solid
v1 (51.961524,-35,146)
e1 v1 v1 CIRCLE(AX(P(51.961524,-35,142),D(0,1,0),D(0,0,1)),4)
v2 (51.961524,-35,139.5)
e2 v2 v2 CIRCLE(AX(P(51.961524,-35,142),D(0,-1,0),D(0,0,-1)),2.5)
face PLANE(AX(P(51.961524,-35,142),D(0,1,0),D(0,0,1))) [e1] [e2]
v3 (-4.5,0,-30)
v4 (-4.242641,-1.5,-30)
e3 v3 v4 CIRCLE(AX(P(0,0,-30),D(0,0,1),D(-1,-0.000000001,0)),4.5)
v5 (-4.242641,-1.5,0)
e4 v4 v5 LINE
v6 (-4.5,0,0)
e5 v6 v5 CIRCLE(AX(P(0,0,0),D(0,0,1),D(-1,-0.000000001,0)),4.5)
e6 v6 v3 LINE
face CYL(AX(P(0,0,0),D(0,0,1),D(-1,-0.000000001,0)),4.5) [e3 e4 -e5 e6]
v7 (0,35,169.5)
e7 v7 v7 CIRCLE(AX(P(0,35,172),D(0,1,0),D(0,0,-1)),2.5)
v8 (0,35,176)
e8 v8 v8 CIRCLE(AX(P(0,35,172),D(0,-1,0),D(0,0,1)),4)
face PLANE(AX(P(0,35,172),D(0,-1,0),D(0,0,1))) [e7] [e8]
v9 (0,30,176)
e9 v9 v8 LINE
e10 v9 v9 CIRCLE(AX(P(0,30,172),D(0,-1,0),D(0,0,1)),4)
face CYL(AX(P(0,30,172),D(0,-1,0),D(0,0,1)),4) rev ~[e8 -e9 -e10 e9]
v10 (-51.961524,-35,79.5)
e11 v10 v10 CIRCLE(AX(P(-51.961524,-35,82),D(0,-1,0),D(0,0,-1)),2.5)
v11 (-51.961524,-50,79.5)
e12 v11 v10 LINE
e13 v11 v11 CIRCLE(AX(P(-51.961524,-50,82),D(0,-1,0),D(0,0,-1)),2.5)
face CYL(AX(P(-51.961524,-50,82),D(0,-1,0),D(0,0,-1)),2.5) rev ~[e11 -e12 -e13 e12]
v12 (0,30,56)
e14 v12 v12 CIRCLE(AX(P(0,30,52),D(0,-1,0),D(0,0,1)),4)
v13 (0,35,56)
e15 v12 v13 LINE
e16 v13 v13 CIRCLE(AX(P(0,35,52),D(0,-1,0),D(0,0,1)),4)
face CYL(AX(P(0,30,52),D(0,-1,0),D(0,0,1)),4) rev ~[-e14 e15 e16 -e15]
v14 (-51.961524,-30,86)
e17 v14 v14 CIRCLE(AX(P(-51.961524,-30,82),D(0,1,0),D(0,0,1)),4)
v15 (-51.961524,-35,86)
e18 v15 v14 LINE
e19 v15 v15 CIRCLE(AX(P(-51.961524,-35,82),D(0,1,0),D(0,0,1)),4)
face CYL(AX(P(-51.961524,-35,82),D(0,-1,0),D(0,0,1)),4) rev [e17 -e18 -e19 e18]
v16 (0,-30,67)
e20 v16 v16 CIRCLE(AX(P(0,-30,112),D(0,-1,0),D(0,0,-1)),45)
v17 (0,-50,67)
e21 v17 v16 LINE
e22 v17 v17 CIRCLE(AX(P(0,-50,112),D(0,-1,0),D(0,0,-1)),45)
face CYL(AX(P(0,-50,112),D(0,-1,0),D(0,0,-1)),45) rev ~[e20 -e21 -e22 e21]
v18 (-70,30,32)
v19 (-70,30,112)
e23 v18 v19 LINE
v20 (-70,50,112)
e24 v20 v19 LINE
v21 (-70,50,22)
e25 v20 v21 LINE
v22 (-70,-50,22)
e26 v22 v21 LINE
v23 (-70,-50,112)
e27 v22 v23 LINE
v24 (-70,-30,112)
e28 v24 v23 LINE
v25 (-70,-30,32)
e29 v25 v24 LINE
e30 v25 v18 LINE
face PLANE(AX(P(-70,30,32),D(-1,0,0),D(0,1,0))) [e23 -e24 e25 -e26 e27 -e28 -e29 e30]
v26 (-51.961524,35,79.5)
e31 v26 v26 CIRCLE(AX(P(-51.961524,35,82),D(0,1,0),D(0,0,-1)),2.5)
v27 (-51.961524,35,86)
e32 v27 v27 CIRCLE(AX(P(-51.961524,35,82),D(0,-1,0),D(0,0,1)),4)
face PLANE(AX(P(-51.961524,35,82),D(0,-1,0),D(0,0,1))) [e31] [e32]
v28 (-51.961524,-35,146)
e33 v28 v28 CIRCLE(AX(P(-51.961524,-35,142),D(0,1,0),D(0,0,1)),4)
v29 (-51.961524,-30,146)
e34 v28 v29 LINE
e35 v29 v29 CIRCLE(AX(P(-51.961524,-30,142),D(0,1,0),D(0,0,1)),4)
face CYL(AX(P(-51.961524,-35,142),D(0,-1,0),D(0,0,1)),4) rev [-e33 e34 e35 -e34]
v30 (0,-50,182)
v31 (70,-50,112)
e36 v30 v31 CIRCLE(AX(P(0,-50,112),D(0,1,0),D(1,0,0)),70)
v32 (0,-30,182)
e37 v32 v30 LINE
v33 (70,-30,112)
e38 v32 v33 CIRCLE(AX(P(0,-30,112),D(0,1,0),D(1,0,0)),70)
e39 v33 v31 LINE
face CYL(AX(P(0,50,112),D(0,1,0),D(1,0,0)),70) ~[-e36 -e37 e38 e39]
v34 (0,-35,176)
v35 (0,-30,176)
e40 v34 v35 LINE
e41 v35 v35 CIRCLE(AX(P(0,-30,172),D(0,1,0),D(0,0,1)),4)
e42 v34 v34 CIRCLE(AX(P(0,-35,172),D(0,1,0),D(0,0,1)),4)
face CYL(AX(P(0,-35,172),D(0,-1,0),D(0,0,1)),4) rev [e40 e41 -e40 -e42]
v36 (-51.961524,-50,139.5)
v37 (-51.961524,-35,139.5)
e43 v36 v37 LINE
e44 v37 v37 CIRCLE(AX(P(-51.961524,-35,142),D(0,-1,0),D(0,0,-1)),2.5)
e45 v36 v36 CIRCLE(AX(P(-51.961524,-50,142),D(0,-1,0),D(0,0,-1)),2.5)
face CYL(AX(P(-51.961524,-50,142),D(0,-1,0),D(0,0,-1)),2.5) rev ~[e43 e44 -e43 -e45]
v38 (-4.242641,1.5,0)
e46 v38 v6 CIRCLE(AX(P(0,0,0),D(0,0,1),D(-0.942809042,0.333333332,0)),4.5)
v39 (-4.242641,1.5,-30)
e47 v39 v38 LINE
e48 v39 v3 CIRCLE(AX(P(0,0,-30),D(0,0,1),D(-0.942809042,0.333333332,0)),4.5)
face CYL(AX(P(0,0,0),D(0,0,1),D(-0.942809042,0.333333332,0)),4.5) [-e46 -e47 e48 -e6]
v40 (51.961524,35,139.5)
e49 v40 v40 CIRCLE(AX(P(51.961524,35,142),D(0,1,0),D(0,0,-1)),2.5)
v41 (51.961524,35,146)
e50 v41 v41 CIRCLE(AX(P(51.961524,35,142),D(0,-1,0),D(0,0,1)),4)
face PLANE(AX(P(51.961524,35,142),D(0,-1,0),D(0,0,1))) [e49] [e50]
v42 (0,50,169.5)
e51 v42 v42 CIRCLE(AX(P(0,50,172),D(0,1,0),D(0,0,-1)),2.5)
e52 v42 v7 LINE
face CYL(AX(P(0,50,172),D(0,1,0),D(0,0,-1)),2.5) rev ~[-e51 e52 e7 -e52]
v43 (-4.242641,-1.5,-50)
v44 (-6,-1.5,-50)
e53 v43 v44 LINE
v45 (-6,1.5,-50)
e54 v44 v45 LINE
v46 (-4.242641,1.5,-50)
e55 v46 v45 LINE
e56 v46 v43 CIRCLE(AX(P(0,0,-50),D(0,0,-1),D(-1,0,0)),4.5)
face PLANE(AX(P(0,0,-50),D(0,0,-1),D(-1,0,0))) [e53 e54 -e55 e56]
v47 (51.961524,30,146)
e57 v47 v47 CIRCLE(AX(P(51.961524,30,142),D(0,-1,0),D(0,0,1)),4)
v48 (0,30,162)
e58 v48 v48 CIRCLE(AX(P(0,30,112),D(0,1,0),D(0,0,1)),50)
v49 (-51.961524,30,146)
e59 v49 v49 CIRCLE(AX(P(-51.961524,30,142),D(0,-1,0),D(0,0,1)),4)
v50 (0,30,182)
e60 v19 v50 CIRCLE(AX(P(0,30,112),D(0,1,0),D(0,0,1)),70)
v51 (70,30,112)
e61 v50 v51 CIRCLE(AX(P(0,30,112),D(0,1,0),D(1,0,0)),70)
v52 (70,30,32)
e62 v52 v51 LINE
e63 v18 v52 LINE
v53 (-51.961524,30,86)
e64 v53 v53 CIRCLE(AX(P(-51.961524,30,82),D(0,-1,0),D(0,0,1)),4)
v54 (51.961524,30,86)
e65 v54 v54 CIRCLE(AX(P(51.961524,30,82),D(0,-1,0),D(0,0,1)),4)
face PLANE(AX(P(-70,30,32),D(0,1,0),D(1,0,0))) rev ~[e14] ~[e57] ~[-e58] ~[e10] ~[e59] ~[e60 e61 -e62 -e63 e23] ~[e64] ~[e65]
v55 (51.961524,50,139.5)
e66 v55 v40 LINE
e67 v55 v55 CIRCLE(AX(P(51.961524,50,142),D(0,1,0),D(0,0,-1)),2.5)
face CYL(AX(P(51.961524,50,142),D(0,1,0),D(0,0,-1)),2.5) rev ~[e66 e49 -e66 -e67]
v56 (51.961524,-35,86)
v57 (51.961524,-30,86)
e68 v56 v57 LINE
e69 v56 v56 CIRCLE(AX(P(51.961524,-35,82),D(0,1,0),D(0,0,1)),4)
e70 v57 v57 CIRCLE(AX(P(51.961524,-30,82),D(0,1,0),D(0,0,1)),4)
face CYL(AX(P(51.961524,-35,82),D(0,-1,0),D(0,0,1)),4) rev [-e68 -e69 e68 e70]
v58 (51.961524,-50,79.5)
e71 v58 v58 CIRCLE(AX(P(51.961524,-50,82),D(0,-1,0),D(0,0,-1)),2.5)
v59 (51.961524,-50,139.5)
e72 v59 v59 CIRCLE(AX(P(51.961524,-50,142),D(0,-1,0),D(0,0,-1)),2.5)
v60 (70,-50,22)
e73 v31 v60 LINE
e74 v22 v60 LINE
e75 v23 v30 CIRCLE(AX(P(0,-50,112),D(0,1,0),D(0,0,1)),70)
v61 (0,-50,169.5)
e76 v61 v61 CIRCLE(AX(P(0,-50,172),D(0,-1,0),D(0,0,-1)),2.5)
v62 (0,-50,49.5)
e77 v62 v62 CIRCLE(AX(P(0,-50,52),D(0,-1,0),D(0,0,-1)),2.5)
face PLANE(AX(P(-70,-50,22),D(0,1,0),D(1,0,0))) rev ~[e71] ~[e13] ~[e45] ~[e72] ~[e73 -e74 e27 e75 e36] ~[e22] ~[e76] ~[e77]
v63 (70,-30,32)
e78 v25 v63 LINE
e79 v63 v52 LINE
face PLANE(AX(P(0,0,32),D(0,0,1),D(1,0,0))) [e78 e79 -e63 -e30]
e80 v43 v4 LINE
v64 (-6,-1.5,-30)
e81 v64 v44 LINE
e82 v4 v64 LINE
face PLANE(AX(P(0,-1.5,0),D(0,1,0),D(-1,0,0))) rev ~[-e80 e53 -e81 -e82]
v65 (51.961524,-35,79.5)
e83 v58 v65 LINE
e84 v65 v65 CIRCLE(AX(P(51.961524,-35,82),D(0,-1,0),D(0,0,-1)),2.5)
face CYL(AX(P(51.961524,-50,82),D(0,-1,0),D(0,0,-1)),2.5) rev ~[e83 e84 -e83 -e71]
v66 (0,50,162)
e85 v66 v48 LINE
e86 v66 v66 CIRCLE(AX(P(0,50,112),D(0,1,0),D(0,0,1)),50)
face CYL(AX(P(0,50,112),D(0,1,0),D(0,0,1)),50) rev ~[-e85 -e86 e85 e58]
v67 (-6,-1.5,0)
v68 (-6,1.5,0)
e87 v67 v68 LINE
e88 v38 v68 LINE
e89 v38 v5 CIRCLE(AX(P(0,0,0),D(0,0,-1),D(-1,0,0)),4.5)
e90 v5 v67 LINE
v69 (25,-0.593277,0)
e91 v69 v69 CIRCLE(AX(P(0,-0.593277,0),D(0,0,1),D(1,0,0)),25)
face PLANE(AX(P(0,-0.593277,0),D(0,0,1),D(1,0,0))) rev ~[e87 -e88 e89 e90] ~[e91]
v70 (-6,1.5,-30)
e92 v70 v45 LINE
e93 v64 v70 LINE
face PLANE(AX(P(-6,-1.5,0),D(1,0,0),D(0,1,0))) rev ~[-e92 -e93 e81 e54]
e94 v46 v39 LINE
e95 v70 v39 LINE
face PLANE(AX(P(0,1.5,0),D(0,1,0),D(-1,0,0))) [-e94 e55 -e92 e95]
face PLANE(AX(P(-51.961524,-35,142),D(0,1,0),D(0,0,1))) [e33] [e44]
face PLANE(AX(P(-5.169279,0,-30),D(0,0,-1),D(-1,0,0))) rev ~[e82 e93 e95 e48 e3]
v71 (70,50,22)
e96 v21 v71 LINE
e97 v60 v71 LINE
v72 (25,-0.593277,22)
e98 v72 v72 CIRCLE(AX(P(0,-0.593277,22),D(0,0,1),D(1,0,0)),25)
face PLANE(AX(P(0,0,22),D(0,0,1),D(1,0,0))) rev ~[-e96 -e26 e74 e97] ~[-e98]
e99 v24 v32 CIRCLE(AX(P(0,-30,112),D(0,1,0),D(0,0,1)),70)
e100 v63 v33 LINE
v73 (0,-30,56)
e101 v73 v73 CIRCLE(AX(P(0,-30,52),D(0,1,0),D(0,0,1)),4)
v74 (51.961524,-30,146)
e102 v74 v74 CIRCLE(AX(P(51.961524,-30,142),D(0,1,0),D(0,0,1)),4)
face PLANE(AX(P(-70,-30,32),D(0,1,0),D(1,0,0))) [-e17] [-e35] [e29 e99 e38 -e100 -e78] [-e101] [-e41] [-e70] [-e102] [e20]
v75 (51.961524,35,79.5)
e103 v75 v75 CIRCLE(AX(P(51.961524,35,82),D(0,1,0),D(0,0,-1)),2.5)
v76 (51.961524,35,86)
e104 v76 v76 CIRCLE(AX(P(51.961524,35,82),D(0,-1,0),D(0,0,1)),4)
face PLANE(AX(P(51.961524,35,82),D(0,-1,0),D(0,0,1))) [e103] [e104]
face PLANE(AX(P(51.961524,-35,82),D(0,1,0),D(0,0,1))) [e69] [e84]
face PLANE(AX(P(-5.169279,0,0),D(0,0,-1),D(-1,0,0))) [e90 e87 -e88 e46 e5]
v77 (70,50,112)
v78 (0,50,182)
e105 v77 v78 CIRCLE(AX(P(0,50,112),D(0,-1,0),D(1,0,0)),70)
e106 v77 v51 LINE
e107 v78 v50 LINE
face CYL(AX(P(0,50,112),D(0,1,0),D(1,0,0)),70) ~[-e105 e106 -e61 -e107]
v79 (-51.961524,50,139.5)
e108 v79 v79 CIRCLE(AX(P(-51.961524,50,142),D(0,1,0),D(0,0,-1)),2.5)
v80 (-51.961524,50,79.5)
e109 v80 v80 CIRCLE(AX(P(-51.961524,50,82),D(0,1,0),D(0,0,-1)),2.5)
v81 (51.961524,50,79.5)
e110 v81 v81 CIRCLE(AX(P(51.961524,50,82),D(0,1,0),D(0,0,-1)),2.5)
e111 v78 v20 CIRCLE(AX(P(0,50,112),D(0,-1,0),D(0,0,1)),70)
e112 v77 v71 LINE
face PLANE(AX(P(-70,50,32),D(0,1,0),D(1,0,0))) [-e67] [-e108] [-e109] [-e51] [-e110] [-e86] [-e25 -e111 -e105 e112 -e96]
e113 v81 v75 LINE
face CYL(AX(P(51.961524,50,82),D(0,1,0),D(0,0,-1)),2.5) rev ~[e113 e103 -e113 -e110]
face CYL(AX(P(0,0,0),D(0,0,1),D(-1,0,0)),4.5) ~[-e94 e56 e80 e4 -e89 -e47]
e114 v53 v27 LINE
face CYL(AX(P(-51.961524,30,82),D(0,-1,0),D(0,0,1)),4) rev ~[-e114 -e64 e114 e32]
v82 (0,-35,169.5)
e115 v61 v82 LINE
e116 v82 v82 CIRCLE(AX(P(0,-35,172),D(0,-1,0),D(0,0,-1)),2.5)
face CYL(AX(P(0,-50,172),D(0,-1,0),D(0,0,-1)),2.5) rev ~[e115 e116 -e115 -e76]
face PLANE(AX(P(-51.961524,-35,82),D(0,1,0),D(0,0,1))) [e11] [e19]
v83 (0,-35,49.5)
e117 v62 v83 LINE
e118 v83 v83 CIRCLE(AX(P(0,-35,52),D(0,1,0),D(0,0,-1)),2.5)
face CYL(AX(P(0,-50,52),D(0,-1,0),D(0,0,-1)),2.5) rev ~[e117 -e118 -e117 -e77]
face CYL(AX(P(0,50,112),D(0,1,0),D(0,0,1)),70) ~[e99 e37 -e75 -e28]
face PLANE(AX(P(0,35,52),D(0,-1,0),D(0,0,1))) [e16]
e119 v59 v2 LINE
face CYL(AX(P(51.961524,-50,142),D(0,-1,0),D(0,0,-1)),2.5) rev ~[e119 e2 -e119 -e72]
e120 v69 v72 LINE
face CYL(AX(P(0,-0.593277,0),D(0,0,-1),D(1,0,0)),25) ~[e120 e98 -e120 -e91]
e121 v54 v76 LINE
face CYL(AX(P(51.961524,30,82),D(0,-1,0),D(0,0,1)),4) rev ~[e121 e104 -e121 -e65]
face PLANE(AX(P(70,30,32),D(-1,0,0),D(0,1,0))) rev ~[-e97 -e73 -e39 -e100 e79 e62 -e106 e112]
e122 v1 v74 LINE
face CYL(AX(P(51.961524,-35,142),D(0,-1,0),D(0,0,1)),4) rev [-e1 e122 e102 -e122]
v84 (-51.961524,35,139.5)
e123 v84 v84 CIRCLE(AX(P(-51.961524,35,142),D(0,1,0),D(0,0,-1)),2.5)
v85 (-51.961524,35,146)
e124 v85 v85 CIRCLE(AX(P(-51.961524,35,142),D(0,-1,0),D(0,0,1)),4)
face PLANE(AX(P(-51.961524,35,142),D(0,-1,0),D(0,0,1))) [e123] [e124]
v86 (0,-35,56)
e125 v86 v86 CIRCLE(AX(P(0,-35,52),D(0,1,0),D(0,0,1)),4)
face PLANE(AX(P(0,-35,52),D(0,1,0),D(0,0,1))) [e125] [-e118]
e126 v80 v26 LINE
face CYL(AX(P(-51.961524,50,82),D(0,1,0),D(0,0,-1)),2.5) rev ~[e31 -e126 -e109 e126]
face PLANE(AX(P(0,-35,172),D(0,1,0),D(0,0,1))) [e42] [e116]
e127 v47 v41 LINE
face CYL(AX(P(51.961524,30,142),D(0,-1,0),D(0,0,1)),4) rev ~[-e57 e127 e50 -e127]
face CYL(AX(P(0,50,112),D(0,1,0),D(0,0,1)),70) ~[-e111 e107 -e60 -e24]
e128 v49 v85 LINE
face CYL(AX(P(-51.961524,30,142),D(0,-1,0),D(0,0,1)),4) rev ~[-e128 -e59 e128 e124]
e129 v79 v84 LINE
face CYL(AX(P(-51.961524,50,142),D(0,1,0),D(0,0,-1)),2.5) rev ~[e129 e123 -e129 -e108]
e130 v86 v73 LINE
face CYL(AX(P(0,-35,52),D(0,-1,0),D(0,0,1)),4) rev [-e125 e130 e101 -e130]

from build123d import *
from build123d.topology import SkipClean

# Parameters (mm, degrees)
SKETCH_1_R           = 25
EXTRUDE_1_DEPTH      = 22
SKETCH_2_W           = 140
SKETCH_2_H           = 100
EXTRUDE_2_DEPTH      = 10
SKETCH_4_W           = 140
SKETCH_4_H           = 20
EXTRUDE_3_DEPTH      = 150
CUT_EXTRUDE_1_DEPTH  = 150
CUT_EXTRUDE_3_REACH  = 221.144
SKETCH_8_R           = 50
CUT_EXTRUDE_4_REACH  = 221.144
SKETCH_9_R           = 45
SKETCH_7_R           = 4.5
EXTRUDE_4_DEPTH      = 50
CUT_EXTRUDE_5_REACH  = 221.144
SKETCH_10_R          = 2.5
CUT_EXTRUDE_START    = -5
SKETCH_11_R          = 4
SKETCH_11_R_2        = 2.5
CUT_EXTRUDE_7_DEPTH  = 5
CUT_EXTRUDE_9_REACH  = 221.144
SKETCH_13_R          = 2.5
SKETCH_14_R          = 4
CUT_EXTRUDE_11_DEPTH = 5
SKETCH_16_W          = 6
SKETCH_16_H          = 3
EXTRUDE_5_DEPTH      = 50
CUT_EXTRUDE_12_DEPTH = 30


with BuildPart() as part:
    # 草图1 → 凸台-拉伸1 (new body)
    with BuildSketch(Plane.XY):
        with Locations((0, -0.593277016)):
            Circle(SKETCH_1_R)
    extrude(amount=EXTRUDE_1_DEPTH)

    # 草图2 → 凸台-拉伸2 (add)
    with BuildSketch(Plane.XY.offset(22)):
        Rectangle(SKETCH_2_W, SKETCH_2_H)
    extrude(amount=EXTRUDE_2_DEPTH)

    # 草图4 → 凸台-拉伸3 (add)
    with BuildSketch(Plane.XY.offset(32)):
        with Locations((0, 40)):
            Rectangle(SKETCH_4_W, SKETCH_4_H)
        with Locations((0, -40)):
            Rectangle(SKETCH_4_W, SKETCH_4_H)
    extrude(amount=EXTRUDE_3_DEPTH)

    # 草图6 → 切除-拉伸1 (cut)
    with BuildSketch(Plane(origin=(0, 50, 0), x_dir=(1, 0, 0), z_dir=(0, 1, 0))):
        with BuildLine():
            ThreePointArc((0, -182), (-49.497474683, -161.497474683), (-70, -112))
            Line((-70, -112), (-70, -182))
            Line((-70, -182), (0, -182))
        make_face()
        with BuildLine():
            Line((70, -182), (70, -112))
            ThreePointArc((70, -112), (49.497474683, -161.497474683), (0, -182))
            Line((0, -182), (70, -182))
        make_face()
    extrude(amount=-CUT_EXTRUDE_1_DEPTH, mode=Mode.SUBTRACT)

    # 草图8 → 切除-拉伸3 (cut, up to next)
    with BuildSketch(Plane(origin=(0, 50, 0), x_dir=(1, 0, 0), z_dir=(0, 1, 0)), mode=Mode.PRIVATE) as cut_extrude_3_sk1:
        with Locations(Location((0, -112, 0), (0, 0, 270))):
            Circle(SKETCH_8_R)
    cut_extrude_3_tool1 = extrude(cut_extrude_3_sk1.sketch, amount=-CUT_EXTRUDE_3_REACH, mode=Mode.PRIVATE) & part.part
    add(cut_extrude_3_tool1.solids().sort_by_distance((0, 50, 112))[0], mode=Mode.SUBTRACT)

    # 草图9 → 切除-拉伸4 (cut, up to next)
    with BuildSketch(Plane.XZ.offset(50), mode=Mode.PRIVATE) as cut_extrude_4_sk1:
        with Locations(Location((0, 112, 0), (0, 0, 270))):
            Circle(SKETCH_9_R)
    cut_extrude_4_tool1 = extrude(cut_extrude_4_sk1.sketch, amount=-CUT_EXTRUDE_4_REACH, mode=Mode.PRIVATE) & part.part
    add(cut_extrude_4_tool1.solids().sort_by_distance((0, -50, 112))[0], mode=Mode.SUBTRACT)

    # 草图7 → 凸台-拉伸4 (add)
    with BuildSketch(Plane(origin=(0, 0, 0), x_dir=(-1, 0, 0), z_dir=(0, 0, -1))):
        Circle(SKETCH_7_R)
    extrude(amount=EXTRUDE_4_DEPTH)

    # 草图10 → 切除-拉伸5 (cut, up to next)
    with BuildSketch(Plane.XZ.offset(50), mode=Mode.PRIVATE) as cut_extrude_5_sk1:
        with Locations(Location((0, 172, 0), (0, 0, 270))):
            Circle(SKETCH_10_R)
    cut_extrude_5_tool1 = extrude(cut_extrude_5_sk1.sketch, amount=-CUT_EXTRUDE_5_REACH, mode=Mode.PRIVATE) & part.part
    # 草图10 → 切除-拉伸5 (cut, up to next)
    with BuildSketch(Plane.XZ.offset(50), mode=Mode.PRIVATE) as cut_extrude_5_sk2:
        with Locations(Location((51.961524227, 142, 0), (0, 0, 270))):
            Circle(SKETCH_10_R)
    cut_extrude_5_tool2 = extrude(cut_extrude_5_sk2.sketch, amount=-CUT_EXTRUDE_5_REACH, mode=Mode.PRIVATE) & part.part
    # 草图10 → 切除-拉伸5 (cut, up to next)
    with BuildSketch(Plane.XZ.offset(50), mode=Mode.PRIVATE) as cut_extrude_5_sk3:
        with Locations(Location((51.961524227, 82, 0), (0, 0, 270))):
            Circle(SKETCH_10_R)
    cut_extrude_5_tool3 = extrude(cut_extrude_5_sk3.sketch, amount=-CUT_EXTRUDE_5_REACH, mode=Mode.PRIVATE) & part.part
    # 草图10 → 切除-拉伸5 (cut, up to next)
    with BuildSketch(Plane.XZ.offset(50), mode=Mode.PRIVATE) as cut_extrude_5_sk4:
        with Locations(Location((0, 52, 0), (0, 0, 270))):
            Circle(SKETCH_10_R)
    cut_extrude_5_tool4 = extrude(cut_extrude_5_sk4.sketch, amount=-CUT_EXTRUDE_5_REACH, mode=Mode.PRIVATE) & part.part
    # 草图10 → 切除-拉伸5 (cut, up to next)
    with BuildSketch(Plane.XZ.offset(50), mode=Mode.PRIVATE) as cut_extrude_5_sk5:
        with Locations(Location((-51.961524227, 82, 0), (0, 0, 270))):
            Circle(SKETCH_10_R)
    cut_extrude_5_tool5 = extrude(cut_extrude_5_sk5.sketch, amount=-CUT_EXTRUDE_5_REACH, mode=Mode.PRIVATE) & part.part
    # 草图10 → 切除-拉伸5 (cut, up to next)
    with BuildSketch(Plane.XZ.offset(50), mode=Mode.PRIVATE) as cut_extrude_5_sk6:
        with Locations(Location((-51.961524227, 142, 0), (0, 0, 270))):
            Circle(SKETCH_10_R)
    cut_extrude_5_tool6 = extrude(cut_extrude_5_sk6.sketch, amount=-CUT_EXTRUDE_5_REACH, mode=Mode.PRIVATE) & part.part
    add(cut_extrude_5_tool1.solids().sort_by_distance((0, -50, 172))[0], mode=Mode.SUBTRACT)
    add(cut_extrude_5_tool2.solids().sort_by_distance((51.961524, -50, 142))[0], mode=Mode.SUBTRACT)
    add(cut_extrude_5_tool3.solids().sort_by_distance((51.961524, -50, 82))[0], mode=Mode.SUBTRACT)
    add(cut_extrude_5_tool4.solids().sort_by_distance((0, -50, 52))[0], mode=Mode.SUBTRACT)
    add(cut_extrude_5_tool5.solids().sort_by_distance((-51.961524, -50, 82))[0], mode=Mode.SUBTRACT)
    add(cut_extrude_5_tool6.solids().sort_by_distance((-51.961524, -50, 142))[0], mode=Mode.SUBTRACT)

    # 草图11 → 切除-拉伸7 (cut)
    # profile 1 of 6: a face of its own
    with BuildSketch(Plane(origin=(0, -30, 0), x_dir=(1, 0, 0), z_dir=(0, 1, 0)).offset(CUT_EXTRUDE_START)):
        with Locations(Location((0, -52, 0), (0, 0, 270))):
            Circle(SKETCH_11_R)
        with Locations(Location((0, -52, 0), (0, 0, 90))):
            Circle(SKETCH_11_R_2, mode=Mode.SUBTRACT)
    # profile 2 of 6: a face of its own
    with BuildSketch(Plane(origin=(0, -30, 0), x_dir=(1, 0, 0), z_dir=(0, 1, 0)).offset(CUT_EXTRUDE_START)):
        with Locations(Location((51.961524227, -82, 0), (0, 0, 270))):
            Circle(SKETCH_11_R)
    # profile 3 of 6: a face of its own
    with BuildSketch(Plane(origin=(0, -30, 0), x_dir=(1, 0, 0), z_dir=(0, 1, 0)).offset(CUT_EXTRUDE_START)):
        with Locations(Location((-51.961524227, -82, 0), (0, 0, 270))):
            Circle(SKETCH_11_R)
    # profile 4 of 6: a face of its own
    with BuildSketch(Plane(origin=(0, -30, 0), x_dir=(1, 0, 0), z_dir=(0, 1, 0)).offset(CUT_EXTRUDE_START)):
        with Locations(Location((-51.961524227, -142, 0), (0, 0, 270))):
            Circle(SKETCH_11_R)
    # profile 5 of 6: a face of its own
    with BuildSketch(Plane(origin=(0, -30, 0), x_dir=(1, 0, 0), z_dir=(0, 1, 0)).offset(CUT_EXTRUDE_START)):
        with Locations(Location((0, -172, 0), (0, 0, 270))):
            Circle(SKETCH_11_R)
    # profile 6 of 6: a face of its own
    with BuildSketch(Plane(origin=(0, -30, 0), x_dir=(1, 0, 0), z_dir=(0, 1, 0)).offset(CUT_EXTRUDE_START)):
        with Locations(Location((51.961524227, -142, 0), (0, 0, 270))):
            Circle(SKETCH_11_R)
    extrude(amount=CUT_EXTRUDE_7_DEPTH, mode=Mode.SUBTRACT)

    # 草图13 → 切除-拉伸9 (cut, up to next)
    with BuildSketch(Plane(origin=(0, 50, 0), x_dir=(1, 0, 0), z_dir=(0, 1, 0)), mode=Mode.PRIVATE) as cut_extrude_9_sk1:
        with Locations(Location((51.961524227, -82, 0), (0, 0, 90))):
            Circle(SKETCH_13_R)
    cut_extrude_9_tool1 = extrude(cut_extrude_9_sk1.sketch, amount=-CUT_EXTRUDE_9_REACH, mode=Mode.PRIVATE) & part.part
    # 草图13 → 切除-拉伸9 (cut, up to next)
    with BuildSketch(Plane(origin=(0, 50, 0), x_dir=(1, 0, 0), z_dir=(0, 1, 0)), mode=Mode.PRIVATE) as cut_extrude_9_sk2:
        with Locations(Location((51.961524227, -142, 0), (0, 0, 90))):
            Circle(SKETCH_13_R)
    cut_extrude_9_tool2 = extrude(cut_extrude_9_sk2.sketch, amount=-CUT_EXTRUDE_9_REACH, mode=Mode.PRIVATE) & part.part
    # 草图13 → 切除-拉伸9 (cut, up to next)
    with BuildSketch(Plane(origin=(0, 50, 0), x_dir=(1, 0, 0), z_dir=(0, 1, 0)), mode=Mode.PRIVATE) as cut_extrude_9_sk3:
        with Locations(Location((0, -172, 0), (0, 0, 90))):
            Circle(SKETCH_13_R)
    cut_extrude_9_tool3 = extrude(cut_extrude_9_sk3.sketch, amount=-CUT_EXTRUDE_9_REACH, mode=Mode.PRIVATE) & part.part
    # 草图13 → 切除-拉伸9 (cut, up to next)
    with BuildSketch(Plane(origin=(0, 50, 0), x_dir=(1, 0, 0), z_dir=(0, 1, 0)), mode=Mode.PRIVATE) as cut_extrude_9_sk4:
        with Locations(Location((-51.961524227, -142, 0), (0, 0, 90))):
            Circle(SKETCH_13_R)
    cut_extrude_9_tool4 = extrude(cut_extrude_9_sk4.sketch, amount=-CUT_EXTRUDE_9_REACH, mode=Mode.PRIVATE) & part.part
    # 草图13 → 切除-拉伸9 (cut, up to next)
    with BuildSketch(Plane(origin=(0, 50, 0), x_dir=(1, 0, 0), z_dir=(0, 1, 0)), mode=Mode.PRIVATE) as cut_extrude_9_sk5:
        with Locations(Location((-51.961524227, -82, 0), (0, 0, 90))):
            Circle(SKETCH_13_R)
    cut_extrude_9_tool5 = extrude(cut_extrude_9_sk5.sketch, amount=-CUT_EXTRUDE_9_REACH, mode=Mode.PRIVATE) & part.part
    add(cut_extrude_9_tool1.solids().sort_by_distance((51.961524, 50, 82))[0], mode=Mode.SUBTRACT)
    add(cut_extrude_9_tool2.solids().sort_by_distance((51.961524, 50, 142))[0], mode=Mode.SUBTRACT)
    add(cut_extrude_9_tool3.solids().sort_by_distance((0, 50, 172))[0], mode=Mode.SUBTRACT)
    add(cut_extrude_9_tool4.solids().sort_by_distance((-51.961524, 50, 142))[0], mode=Mode.SUBTRACT)
    add(cut_extrude_9_tool5.solids().sort_by_distance((-51.961524, 50, 82))[0], mode=Mode.SUBTRACT)

    # 草图14 → 切除-拉伸11 (cut)
    with BuildSketch(Plane.XZ.offset(-30)):
        with Locations(Location((0, 172, 0), (0, 0, 90))):
            Circle(SKETCH_14_R)
        with Locations(Location((-51.961524227, 142, 0), (0, 0, 90))):
            Circle(SKETCH_14_R)
        with Locations(Location((-51.961524227, 82, 0), (0, 0, 90))):
            Circle(SKETCH_14_R)
        with Locations(Location((0, 52, 0), (0, 0, 90))):
            Circle(SKETCH_14_R)
        with Locations(Location((51.961524227, 82, 0), (0, 0, 90))):
            Circle(SKETCH_14_R)
        with Locations(Location((51.961524227, 142, 0), (0, 0, 90))):
            Circle(SKETCH_14_R)
    extrude(amount=-CUT_EXTRUDE_11_DEPTH, mode=Mode.SUBTRACT)

    # 草图16 → 凸台-拉伸5 (add)
    with BuildSketch(Plane(origin=(0, 0, 0), x_dir=(-1, 0, 0), z_dir=(0, 0, -1))):
        with Locations((3, 0)):
            Rectangle(SKETCH_16_W, SKETCH_16_H)
    extrude(amount=EXTRUDE_5_DEPTH)

    # 草图17 → 切除-拉伸12 (cut)
    with SkipClean():  # the faces are left unmerged after this step: merging them gives an invalid solid
        with BuildSketch(Plane(origin=(0, 0, 0), x_dir=(-1, 0, 0), z_dir=(0, 0, -1))):
            with BuildLine():
                Line((6, -1.5), (6, 1.5))
                Line((6, 1.5), (4.242640687, 1.5))
                ThreePointArc((4.242640687, 1.5), (4.435193518, 0.760958904), (4.5, 0))
                ThreePointArc((4.5, 0), (4.435193518, -0.760958904), (4.242640687, -1.5))
                Line((4.242640687, -1.5), (6, -1.5))
            make_face()
        extrude(amount=CUT_EXTRUDE_12_DEPTH, mode=Mode.SUBTRACT)


solid = part.part
